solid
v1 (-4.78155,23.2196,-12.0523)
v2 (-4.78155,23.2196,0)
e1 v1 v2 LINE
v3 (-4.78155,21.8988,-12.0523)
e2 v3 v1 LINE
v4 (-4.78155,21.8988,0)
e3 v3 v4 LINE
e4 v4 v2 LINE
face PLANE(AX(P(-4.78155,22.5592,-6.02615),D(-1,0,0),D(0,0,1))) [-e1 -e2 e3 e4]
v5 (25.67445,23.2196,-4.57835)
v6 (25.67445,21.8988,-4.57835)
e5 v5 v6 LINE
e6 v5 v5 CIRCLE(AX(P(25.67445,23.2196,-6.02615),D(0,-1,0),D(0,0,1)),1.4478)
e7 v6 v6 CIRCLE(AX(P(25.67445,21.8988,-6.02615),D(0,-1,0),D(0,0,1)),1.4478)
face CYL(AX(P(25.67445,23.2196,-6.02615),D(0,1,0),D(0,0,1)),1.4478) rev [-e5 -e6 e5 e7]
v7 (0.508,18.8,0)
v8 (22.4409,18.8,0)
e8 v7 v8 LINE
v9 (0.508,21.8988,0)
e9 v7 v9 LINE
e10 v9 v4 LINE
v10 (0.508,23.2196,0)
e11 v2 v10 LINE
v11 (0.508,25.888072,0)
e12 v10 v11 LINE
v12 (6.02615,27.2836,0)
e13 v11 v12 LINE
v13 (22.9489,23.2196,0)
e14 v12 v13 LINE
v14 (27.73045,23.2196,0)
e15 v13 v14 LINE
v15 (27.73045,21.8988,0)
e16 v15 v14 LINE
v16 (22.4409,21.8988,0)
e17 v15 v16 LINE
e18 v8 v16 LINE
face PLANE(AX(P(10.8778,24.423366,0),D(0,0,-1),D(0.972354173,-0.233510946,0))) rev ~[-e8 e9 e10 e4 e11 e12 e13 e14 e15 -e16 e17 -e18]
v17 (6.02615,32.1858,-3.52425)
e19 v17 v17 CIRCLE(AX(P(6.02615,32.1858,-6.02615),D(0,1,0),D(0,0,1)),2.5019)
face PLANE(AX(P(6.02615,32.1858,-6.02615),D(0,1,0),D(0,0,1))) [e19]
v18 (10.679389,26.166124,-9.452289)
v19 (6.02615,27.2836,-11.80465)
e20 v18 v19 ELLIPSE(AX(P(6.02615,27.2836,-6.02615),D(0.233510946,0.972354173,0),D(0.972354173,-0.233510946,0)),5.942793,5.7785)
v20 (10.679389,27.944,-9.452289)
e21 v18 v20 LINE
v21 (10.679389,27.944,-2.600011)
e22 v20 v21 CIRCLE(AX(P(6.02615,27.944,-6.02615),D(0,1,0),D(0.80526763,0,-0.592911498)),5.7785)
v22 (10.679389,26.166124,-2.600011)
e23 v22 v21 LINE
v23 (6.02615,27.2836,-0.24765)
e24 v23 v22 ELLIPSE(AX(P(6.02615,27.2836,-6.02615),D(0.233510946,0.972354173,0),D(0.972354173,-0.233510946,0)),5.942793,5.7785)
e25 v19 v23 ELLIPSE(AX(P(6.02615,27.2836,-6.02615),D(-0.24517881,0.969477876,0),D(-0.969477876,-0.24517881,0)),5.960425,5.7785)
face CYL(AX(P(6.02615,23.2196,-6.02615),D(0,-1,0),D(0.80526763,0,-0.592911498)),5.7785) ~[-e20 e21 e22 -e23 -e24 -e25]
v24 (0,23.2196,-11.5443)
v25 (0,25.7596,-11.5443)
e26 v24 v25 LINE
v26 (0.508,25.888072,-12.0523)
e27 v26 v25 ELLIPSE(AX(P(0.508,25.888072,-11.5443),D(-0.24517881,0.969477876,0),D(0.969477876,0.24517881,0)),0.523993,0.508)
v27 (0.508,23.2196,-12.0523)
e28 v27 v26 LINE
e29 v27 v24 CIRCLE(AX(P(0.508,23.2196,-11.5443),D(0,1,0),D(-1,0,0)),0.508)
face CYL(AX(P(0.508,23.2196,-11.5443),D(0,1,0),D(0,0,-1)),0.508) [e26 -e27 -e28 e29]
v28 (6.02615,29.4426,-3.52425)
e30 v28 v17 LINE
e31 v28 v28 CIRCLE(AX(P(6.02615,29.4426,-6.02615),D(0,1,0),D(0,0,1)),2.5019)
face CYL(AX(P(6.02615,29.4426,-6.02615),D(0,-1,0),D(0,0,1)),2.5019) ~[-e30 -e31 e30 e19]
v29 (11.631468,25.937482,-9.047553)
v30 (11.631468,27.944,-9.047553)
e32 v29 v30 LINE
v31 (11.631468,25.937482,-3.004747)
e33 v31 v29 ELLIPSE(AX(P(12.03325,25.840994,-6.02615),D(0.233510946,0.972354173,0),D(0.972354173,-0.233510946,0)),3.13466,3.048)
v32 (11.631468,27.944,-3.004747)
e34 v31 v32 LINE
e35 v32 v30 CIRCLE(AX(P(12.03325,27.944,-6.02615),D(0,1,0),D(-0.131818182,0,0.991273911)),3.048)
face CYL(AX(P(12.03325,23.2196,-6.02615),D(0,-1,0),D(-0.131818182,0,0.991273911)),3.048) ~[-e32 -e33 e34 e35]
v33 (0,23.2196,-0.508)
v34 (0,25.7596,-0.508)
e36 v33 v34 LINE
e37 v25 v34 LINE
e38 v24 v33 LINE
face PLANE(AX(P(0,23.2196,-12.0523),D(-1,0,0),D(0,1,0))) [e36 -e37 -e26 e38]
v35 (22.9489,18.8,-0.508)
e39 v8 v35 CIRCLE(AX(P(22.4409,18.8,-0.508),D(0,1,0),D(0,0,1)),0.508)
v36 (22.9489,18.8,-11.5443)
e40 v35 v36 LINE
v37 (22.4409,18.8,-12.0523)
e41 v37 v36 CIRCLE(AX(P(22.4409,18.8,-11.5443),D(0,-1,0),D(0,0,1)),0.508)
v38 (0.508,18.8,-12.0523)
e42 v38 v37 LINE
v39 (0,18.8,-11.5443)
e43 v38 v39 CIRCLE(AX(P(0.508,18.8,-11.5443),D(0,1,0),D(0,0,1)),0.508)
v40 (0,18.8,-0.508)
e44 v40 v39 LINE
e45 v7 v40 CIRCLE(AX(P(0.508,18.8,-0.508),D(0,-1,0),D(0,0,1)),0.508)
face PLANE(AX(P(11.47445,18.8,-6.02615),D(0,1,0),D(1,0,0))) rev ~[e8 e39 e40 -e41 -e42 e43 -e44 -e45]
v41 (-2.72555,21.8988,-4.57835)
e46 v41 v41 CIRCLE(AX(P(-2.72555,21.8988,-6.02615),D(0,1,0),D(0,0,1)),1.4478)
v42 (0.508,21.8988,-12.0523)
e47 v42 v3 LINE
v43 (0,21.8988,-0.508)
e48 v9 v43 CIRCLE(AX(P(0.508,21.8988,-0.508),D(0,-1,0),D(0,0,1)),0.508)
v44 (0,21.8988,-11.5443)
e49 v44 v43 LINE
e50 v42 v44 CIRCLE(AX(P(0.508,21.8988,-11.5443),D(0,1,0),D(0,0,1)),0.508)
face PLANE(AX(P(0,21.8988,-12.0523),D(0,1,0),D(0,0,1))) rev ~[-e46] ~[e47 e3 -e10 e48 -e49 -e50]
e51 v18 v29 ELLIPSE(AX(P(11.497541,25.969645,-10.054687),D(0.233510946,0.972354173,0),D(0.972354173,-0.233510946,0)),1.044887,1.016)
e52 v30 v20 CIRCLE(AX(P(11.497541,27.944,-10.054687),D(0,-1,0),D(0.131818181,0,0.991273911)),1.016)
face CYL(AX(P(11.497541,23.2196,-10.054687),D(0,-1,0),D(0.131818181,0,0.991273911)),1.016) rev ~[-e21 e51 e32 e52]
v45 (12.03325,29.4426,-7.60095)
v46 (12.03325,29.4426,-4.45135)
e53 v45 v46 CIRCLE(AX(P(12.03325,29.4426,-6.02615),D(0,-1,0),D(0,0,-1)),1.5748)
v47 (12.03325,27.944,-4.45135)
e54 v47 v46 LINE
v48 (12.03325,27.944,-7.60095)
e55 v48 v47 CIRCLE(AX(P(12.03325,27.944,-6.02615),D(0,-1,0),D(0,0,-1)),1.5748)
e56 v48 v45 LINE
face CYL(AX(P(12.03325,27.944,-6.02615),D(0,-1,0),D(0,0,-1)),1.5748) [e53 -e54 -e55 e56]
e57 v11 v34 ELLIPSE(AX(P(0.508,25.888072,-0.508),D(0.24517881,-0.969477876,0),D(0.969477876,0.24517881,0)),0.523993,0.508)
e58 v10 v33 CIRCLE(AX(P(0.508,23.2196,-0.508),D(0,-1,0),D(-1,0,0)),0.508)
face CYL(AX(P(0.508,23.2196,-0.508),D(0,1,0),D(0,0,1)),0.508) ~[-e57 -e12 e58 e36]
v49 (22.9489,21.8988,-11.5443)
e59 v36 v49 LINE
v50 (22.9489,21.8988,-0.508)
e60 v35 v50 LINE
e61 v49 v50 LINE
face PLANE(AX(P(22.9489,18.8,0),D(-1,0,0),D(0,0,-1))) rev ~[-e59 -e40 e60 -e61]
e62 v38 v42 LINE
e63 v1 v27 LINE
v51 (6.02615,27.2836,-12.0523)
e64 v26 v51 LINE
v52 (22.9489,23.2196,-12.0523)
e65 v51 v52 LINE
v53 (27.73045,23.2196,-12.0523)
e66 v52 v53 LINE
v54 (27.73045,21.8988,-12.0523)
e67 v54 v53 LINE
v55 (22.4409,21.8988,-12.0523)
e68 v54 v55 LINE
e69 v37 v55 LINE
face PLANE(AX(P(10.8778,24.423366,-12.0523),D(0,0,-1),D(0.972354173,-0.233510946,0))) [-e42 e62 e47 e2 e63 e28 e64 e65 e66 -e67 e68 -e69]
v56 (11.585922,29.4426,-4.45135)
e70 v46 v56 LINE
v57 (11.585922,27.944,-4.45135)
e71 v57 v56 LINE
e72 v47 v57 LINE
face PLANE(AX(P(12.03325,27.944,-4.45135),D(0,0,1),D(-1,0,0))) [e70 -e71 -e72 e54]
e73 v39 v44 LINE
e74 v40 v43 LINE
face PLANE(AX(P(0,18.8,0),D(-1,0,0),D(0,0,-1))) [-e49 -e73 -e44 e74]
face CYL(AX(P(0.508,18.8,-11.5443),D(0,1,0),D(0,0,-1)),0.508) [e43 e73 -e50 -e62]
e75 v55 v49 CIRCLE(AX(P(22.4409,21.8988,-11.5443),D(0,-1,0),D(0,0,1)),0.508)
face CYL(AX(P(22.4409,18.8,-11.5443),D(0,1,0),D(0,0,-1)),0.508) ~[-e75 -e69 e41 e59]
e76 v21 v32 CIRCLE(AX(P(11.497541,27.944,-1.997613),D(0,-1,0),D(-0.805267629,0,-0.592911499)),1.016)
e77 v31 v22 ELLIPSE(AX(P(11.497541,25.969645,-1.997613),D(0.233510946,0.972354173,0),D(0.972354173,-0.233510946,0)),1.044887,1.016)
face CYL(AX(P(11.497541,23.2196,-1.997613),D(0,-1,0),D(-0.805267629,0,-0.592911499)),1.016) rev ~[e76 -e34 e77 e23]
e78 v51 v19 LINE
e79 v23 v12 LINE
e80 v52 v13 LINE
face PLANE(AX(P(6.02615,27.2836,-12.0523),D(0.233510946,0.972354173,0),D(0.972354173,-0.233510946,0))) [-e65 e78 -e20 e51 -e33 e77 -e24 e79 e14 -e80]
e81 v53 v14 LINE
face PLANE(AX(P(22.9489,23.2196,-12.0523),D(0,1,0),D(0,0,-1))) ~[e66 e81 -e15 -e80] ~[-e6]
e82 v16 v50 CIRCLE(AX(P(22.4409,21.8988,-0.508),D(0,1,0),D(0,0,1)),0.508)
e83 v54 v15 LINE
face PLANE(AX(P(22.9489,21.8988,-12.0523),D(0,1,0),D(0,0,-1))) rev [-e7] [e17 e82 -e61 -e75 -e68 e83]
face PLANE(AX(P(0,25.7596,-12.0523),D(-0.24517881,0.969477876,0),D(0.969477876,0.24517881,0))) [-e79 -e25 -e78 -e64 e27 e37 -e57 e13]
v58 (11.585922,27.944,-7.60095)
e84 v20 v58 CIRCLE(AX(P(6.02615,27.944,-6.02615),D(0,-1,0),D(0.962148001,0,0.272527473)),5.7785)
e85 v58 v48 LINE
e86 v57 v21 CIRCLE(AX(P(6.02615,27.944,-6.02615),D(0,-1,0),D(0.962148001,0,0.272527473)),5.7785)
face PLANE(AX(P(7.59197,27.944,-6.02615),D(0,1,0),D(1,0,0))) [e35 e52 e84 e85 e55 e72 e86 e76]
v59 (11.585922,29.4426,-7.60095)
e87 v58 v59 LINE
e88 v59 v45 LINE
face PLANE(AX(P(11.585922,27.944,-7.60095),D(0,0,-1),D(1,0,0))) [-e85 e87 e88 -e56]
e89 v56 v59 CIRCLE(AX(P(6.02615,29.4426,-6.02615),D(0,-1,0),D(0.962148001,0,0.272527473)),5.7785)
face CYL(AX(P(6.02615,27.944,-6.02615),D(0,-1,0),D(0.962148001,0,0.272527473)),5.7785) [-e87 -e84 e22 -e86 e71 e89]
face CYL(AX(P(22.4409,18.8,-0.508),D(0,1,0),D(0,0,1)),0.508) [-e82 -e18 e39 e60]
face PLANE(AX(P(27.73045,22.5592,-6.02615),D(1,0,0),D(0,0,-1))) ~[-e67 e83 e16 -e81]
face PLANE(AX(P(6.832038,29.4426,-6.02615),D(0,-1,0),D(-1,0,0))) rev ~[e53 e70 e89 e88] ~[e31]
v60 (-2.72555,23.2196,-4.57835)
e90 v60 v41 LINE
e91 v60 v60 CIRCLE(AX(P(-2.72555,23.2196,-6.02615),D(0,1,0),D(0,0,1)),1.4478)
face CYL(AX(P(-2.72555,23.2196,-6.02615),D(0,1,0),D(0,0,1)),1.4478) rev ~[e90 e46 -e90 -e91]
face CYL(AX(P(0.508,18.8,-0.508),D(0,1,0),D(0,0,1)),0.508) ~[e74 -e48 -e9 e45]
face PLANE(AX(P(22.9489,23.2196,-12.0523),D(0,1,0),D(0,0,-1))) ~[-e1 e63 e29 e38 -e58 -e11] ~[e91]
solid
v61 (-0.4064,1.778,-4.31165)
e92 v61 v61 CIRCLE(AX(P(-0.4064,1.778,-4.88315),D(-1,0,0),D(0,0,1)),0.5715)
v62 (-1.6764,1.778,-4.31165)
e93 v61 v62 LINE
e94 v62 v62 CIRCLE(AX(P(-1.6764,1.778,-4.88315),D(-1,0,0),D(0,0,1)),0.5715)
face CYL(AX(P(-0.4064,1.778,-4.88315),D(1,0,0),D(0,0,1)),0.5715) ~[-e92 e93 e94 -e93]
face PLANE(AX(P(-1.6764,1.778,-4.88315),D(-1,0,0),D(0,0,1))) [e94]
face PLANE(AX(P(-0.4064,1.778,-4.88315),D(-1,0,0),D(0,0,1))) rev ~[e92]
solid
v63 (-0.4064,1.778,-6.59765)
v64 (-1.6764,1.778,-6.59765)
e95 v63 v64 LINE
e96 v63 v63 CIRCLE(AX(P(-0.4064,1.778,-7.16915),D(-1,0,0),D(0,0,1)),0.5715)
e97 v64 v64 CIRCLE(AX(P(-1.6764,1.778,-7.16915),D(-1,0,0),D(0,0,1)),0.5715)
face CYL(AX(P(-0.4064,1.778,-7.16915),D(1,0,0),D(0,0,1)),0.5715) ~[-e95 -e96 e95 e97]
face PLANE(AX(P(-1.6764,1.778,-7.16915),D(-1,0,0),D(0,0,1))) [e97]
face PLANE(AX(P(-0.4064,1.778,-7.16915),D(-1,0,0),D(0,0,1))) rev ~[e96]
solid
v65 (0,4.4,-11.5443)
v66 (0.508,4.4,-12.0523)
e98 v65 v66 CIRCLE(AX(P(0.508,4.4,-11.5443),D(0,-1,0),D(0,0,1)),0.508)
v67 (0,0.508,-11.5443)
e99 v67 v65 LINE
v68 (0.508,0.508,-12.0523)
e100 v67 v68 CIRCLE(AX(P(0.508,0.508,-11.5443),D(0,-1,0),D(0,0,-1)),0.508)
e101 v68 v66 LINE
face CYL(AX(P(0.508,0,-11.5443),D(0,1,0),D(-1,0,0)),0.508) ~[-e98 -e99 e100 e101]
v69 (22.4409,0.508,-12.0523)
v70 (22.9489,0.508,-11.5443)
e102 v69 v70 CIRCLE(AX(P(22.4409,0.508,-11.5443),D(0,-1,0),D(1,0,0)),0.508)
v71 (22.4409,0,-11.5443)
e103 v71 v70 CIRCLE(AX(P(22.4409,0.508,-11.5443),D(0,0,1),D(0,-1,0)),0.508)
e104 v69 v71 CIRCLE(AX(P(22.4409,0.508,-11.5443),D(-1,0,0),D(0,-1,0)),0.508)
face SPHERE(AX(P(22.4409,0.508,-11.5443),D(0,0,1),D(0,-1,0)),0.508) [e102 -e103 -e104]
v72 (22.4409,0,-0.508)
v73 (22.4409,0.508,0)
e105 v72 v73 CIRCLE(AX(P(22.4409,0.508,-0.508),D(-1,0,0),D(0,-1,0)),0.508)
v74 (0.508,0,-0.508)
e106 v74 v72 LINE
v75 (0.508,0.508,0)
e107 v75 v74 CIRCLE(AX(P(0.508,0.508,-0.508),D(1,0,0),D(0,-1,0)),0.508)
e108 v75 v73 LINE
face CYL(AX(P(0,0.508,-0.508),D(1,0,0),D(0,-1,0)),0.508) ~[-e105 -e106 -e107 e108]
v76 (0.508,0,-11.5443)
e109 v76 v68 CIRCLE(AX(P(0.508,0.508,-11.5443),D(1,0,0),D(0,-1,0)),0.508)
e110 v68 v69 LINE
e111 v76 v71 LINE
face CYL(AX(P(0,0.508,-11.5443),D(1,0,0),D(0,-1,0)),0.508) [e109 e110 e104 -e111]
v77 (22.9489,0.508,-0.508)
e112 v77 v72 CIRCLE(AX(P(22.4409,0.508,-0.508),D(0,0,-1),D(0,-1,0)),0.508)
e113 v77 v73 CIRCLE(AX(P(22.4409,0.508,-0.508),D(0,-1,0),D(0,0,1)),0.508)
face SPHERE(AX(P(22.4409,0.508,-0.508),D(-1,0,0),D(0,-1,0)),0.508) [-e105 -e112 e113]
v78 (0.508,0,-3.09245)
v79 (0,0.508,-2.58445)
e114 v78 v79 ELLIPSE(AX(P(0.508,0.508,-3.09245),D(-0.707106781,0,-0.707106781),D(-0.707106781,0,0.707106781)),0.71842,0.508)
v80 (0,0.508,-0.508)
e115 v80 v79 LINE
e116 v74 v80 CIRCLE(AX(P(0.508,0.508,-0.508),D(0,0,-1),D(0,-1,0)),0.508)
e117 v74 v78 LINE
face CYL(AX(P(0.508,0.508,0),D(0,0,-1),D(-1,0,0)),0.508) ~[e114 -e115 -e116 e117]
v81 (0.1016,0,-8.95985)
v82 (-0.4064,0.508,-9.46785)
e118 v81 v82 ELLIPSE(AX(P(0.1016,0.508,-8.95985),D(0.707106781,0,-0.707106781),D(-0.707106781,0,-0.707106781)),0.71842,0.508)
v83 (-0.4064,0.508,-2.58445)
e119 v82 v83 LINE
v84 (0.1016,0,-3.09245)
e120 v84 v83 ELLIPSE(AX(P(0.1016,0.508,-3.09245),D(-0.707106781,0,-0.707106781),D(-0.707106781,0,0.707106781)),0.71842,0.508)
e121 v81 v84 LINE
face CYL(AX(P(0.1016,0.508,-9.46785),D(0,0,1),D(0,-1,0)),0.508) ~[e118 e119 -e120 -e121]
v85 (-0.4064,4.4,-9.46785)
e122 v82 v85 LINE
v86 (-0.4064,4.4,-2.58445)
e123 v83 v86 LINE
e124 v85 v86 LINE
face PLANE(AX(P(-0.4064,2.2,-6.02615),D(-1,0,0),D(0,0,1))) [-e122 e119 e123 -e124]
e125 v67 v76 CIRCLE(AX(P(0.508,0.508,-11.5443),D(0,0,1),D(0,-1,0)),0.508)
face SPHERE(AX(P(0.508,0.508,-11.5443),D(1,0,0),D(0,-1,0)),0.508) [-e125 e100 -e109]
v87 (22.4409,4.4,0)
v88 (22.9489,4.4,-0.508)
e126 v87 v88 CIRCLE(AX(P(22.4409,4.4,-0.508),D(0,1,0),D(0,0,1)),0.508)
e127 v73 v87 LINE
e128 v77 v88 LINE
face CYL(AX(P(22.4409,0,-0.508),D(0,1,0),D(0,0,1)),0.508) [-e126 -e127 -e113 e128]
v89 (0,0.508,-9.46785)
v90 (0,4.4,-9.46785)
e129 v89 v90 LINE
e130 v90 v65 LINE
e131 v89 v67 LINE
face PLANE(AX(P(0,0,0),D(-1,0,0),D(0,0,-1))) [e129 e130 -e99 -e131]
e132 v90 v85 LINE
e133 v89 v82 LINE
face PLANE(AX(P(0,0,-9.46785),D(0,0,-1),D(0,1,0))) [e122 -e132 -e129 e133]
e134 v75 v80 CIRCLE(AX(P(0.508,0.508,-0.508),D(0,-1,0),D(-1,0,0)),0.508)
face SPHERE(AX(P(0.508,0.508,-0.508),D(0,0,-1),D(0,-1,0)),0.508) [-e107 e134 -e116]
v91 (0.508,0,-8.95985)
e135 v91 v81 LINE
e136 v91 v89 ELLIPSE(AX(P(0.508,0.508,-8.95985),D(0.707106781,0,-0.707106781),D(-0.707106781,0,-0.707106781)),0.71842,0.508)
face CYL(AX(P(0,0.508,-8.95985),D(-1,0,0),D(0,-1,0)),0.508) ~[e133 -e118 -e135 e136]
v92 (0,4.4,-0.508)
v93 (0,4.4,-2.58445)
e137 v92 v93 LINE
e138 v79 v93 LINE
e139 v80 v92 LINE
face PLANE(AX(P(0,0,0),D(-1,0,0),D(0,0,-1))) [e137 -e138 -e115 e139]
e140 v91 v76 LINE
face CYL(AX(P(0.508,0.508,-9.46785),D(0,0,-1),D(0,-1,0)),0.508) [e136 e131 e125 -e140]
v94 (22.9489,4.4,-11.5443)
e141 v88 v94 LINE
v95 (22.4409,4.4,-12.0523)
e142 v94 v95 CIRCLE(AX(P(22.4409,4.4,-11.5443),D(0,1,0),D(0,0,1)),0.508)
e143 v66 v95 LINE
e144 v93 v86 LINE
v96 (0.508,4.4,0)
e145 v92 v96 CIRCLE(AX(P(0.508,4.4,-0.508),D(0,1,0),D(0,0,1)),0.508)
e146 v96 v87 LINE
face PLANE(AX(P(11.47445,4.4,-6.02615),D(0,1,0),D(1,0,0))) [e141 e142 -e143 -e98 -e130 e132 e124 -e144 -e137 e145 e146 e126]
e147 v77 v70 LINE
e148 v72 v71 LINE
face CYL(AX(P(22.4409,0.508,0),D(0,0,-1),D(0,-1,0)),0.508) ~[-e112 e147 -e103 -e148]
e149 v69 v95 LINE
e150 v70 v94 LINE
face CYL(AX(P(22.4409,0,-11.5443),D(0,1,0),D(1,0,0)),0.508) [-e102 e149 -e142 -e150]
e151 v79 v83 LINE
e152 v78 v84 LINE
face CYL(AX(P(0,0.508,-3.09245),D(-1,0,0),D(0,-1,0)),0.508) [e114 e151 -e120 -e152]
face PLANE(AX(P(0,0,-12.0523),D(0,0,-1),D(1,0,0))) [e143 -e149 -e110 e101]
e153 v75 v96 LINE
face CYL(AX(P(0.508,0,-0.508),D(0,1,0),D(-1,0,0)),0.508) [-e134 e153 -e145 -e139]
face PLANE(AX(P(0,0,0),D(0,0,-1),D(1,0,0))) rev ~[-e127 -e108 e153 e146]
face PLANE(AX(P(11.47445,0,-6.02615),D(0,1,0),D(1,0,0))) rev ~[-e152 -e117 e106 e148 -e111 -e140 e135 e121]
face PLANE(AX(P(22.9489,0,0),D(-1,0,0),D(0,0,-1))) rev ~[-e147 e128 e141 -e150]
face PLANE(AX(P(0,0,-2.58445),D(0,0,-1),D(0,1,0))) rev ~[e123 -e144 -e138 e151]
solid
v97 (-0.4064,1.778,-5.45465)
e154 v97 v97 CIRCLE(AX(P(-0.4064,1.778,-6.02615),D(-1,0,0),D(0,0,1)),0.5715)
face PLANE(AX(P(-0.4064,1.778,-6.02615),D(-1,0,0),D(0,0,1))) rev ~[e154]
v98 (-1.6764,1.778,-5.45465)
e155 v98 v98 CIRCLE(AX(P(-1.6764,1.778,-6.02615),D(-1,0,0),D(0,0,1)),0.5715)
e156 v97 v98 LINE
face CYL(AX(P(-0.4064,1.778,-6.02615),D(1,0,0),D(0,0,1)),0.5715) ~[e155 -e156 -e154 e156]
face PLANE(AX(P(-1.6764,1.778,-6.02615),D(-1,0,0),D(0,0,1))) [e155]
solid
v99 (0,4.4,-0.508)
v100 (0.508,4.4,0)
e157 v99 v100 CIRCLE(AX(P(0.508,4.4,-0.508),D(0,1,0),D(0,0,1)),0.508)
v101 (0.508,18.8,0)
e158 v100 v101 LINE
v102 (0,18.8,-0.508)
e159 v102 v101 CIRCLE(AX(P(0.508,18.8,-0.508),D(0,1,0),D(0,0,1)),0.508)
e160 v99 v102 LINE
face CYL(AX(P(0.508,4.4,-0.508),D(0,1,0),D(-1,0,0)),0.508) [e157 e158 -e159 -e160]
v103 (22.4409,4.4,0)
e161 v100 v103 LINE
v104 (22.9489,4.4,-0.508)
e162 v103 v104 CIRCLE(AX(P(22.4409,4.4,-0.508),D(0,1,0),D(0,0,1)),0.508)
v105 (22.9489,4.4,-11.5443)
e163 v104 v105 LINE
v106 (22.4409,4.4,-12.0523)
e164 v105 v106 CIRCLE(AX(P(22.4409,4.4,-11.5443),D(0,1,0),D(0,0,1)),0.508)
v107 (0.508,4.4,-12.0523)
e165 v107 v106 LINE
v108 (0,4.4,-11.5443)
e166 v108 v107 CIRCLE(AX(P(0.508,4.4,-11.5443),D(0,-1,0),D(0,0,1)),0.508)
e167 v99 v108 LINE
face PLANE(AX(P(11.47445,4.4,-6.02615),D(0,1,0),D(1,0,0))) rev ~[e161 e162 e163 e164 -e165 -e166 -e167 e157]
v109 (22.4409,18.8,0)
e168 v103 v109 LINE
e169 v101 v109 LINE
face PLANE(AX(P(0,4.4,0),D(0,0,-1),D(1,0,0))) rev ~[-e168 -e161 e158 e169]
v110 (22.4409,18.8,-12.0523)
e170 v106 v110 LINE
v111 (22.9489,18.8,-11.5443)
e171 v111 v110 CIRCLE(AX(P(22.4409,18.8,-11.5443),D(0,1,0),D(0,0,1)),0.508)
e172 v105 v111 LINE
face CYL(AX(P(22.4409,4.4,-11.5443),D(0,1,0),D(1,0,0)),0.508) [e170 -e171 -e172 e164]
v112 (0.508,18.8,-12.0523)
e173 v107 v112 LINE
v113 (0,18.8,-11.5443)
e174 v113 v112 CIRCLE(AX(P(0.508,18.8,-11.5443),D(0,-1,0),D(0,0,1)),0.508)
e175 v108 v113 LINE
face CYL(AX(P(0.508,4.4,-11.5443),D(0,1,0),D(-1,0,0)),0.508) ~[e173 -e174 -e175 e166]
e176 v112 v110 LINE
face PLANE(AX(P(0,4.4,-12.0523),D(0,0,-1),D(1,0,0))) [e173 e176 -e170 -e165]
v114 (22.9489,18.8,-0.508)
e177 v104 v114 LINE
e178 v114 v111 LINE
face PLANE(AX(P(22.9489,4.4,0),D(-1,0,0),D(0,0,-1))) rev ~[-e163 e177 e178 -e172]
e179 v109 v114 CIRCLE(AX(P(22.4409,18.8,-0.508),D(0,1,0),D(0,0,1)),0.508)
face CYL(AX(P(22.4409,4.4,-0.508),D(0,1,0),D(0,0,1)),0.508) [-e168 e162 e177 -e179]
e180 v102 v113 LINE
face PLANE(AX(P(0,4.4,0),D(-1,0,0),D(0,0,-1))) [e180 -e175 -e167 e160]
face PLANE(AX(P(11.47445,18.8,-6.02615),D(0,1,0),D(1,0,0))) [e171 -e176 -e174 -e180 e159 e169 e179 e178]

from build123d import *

# Parameters (mm, degrees)
SKETCH1_W              = 22.9489
SKETCH1_H              = 12.0523
BOSS_EXTRUDE1_DEPTH    = 4.4
SKETCH2_W              = 22.9489
SKETCH2_H              = 12.0523
BOSS_EXTRUDE4_DEPTH    = 14.4
SKETCH5_W              = 22.9489
SKETCH5_H              = 12.0523
BOSS_EXTRUDE6_DEPTH    = 4.4196
SKETCH7_W              = 12.0523
SKETCH7_H              = 1.3208
BOSS_EXTRUDE9_DEPTH    = 4.78155
SKETCH10_R             = 1.4478
CUT_EXTRUDE1_DEPTH     = 1.3208
BOSS_EXTRUDE10_DEPTH   = 4.7244
FILLET1_R              = 0.508
BOSS_EXTRUDE11_DEPTH   = 1.4986
SKETCH13_R             = 2.5019
BOSS_EXTRUDE12_DEPTH   = 2.7432
SKETCH14_W             = 6.8834
SKETCH14_H             = 4.4
BOSS_EXTRUDE14_DEPTH   = 0.4064
SKETCH15_R             = 0.5715
BOSS_EXTRUDE15_DEPTH   = 1.27
BOSS_EXTRUDE15_2_DEPTH = 1.27
BOSS_EXTRUDE15_3_DEPTH = 1.27
FILLET4_R              = 0.508
BOSS_EXTRUDE16_DEPTH   = 12.0523
FILLET5_R              = 0.508


with BuildPart() as part:
    # Sketch1 → Boss-Extrude1 (new body)
    with BuildSketch(Plane(origin=(0, 0, 0), x_dir=(1, 0, 0), z_dir=(0, 1, 0))):
        with Locations((11.47445, 6.02615)):
            Rectangle(SKETCH1_W, SKETCH1_H)
    extrude(amount=BOSS_EXTRUDE1_DEPTH)

    # Sketch14 → Boss-Extrude14 (add)
    with BuildSketch(Plane.ZY):
        with Locations((-6.02615, 2.2)):
            Rectangle(SKETCH14_W, SKETCH14_H)
    extrude(amount=BOSS_EXTRUDE14_DEPTH)

    # Fillet4
    fillet4_edges = [part.edges().sort_by_distance(p)[0] for p in [
        (-0.2032, 0, -9.46785),
        (-0.4064, 0, -6.02615),
        (-0.2032, 0, -2.58445),
        (0, 0, -1.292225),
        (11.47445, 0, 0),
        (22.9489, 0, -6.02615),
        (11.47445, 0, -12.0523),
        (0, 0, -10.760075),
        (0, 2.2, 0),
        (22.9489, 2.2, 0),
        (22.9489, 2.2, -12.0523),
        (0, 2.2, -12.0523),
    ]]
    fillet(fillet4_edges, radius=FILLET4_R)


with BuildPart() as body_2:
    # Sketch2 → Boss-Extrude4 (new body)
    with BuildSketch(Plane(origin=(0, 4.4, 0), x_dir=(1, 0, 0), z_dir=(0, 1, 0))):
        with Locations((11.47445, 6.02615)):
            Rectangle(SKETCH2_W, SKETCH2_H)
    extrude(amount=BOSS_EXTRUDE4_DEPTH)

    # Fillet1
    fillet1_edges = [body_2.edges().sort_by_distance(p)[0] for p in [
        (0, 11.6, -12.0523),
        (22.9489, 11.6, -12.0523),
        (22.9489, 11.6, 0),
        (0, 11.6, 0),
    ]]
    fillet(fillet1_edges, radius=FILLET1_R)


with BuildPart() as body_3:
    # Sketch5 → Boss-Extrude6 (new body)
    with BuildSketch(Plane(origin=(0, 18.8, 0), x_dir=(1, 0, 0), z_dir=(0, 1, 0))):
        with Locations((11.47445, 6.02615)):
            Rectangle(SKETCH5_W, SKETCH5_H)
    extrude(amount=BOSS_EXTRUDE6_DEPTH)

    # Sketch7 → Boss-Extrude9 (add)
    with BuildSketch(Plane.ZY):
        with Locations((-6.02615, 22.5592)):
            Rectangle(SKETCH7_W, SKETCH7_H)
    boss_extrude9 = extrude(amount=BOSS_EXTRUDE9_DEPTH)

    # Sketch10 → Cut-Extrude1 (cut)
    with BuildSketch(Plane(origin=(0, 23.2196, 0), x_dir=(1, 0, 0), z_dir=(0, 1, 0))):
        with Locations(Location((-2.72555, 6.02615, 0), (0, 0, 270))):
            Circle(SKETCH10_R)
    cut_extrude1 = extrude(amount=-CUT_EXTRUDE1_DEPTH, mode=Mode.SUBTRACT)

    # Mirror1: Boss-Extrude9, Cut-Extrude1 across plane
    add(boss_extrude9.mirror(Plane.ZY.offset(-11.47445)))
    add(cut_extrude1.mirror(Plane.ZY.offset(-11.47445)), mode=Mode.SUBTRACT)



with BuildPart() as body_4:
    # Sketch11 → Boss-Extrude10 (new body)
    with BuildSketch(Plane(origin=(0, 23.2196, 0), x_dir=(1, 0, 0), z_dir=(0, 1, 0))):
        with BuildLine():
            ThreePointArc((10.679388997, 9.452289093), (0.24765, 6.02615), (10.679388997, 2.600010907))
            ThreePointArc((10.679388997, 2.600010907), (11.100056709, 2.932632777), (11.631468182, 3.004747119))
            ThreePointArc((11.631468182, 3.004747119), (15.08125, 6.02615), (11.631468182, 9.047552881))
            ThreePointArc((11.631468182, 9.047552881), (11.100056709, 9.119667223), (10.679388997, 9.452289093))
        make_face()
    extrude(amount=BOSS_EXTRUDE10_DEPTH)

    # Sketch12 → Boss-Extrude11 (add)
    with BuildSketch(Plane(origin=(0, 27.944, 0), x_dir=(1, 0, 0), z_dir=(0, 1, 0))):
        with BuildLine():
            Line((12.03325, 4.45135), (11.585922226, 4.45135))
            ThreePointArc((11.585922226, 4.45135), (0.24765, 6.02615), (11.585922226, 7.60095))
            Line((11.585922226, 7.60095), (12.03325, 7.60095))
            ThreePointArc((12.03325, 7.60095), (13.60805, 6.02615), (12.03325, 4.45135))
        make_face()
    extrude(amount=BOSS_EXTRUDE11_DEPTH)

    # Sketch13 → Boss-Extrude12 (add)
    with BuildSketch(Plane(origin=(0, 29.4426, 0), x_dir=(1, 0, 0), z_dir=(0, 1, 0))):
        with Locations(Location((6.02615, 6.02615, 0), (0, 0, 270))):
            Circle(SKETCH13_R)
    extrude(amount=BOSS_EXTRUDE12_DEPTH)


with BuildPart() as body_5:
    # Sketch15 → Boss-Extrude15 (new body)
    with BuildSketch(Plane.ZY.offset(0.4064)):
        with Locations((-6.02615, 1.778)):
            Circle(SKETCH15_R)
    extrude(amount=BOSS_EXTRUDE15_DEPTH)


with BuildPart() as body_6:
    # Sketch15 → Boss-Extrude15 2 (new body)
    with BuildSketch(Plane.ZY.offset(0.4064)):
        with Locations((-4.88315, 1.778)):
            Circle(SKETCH15_R)
    extrude(amount=BOSS_EXTRUDE15_2_DEPTH)


with BuildPart() as body_7:
    # Sketch15 → Boss-Extrude15 3 (new body)
    with BuildSketch(Plane.ZY.offset(0.4064)):
        with Locations((-7.16915, 1.778)):
            Circle(SKETCH15_R)
    extrude(amount=BOSS_EXTRUDE15_3_DEPTH)


with BuildPart() as body_3_1:
    add(body_3.part)

    add(body_4.part)  # Boss-Extrude16 merges body 4
    # 3DSketch1 → Boss-Extrude16 (add, through all)
    with BuildSketch(Plane(origin=(6.02615, 27.2836, -12.0523), x_dir=(0.972354173200553, -0.23351094590932797, 0), z_dir=(0, 0, -1))):
        Polygon((0, 0), (17.403895069, 0), (-4.910563617, 5.358819347), (-5.503681419, 2.889039747), align=None)
    extrude(amount=-BOSS_EXTRUDE16_DEPTH)

    # Fillet5
    fillet5_edges = [body_3_1.edges().sort_by_distance(p)[0] for p in [
        (0, 24.4896, 0),
        (0, 24.4896, -12.0523),
        (0, 20.3494, -12.0523),
        (22.9489, 20.3494, -12.0523),
        (22.9489, 20.3494, 0),
        (0, 20.3494, 0),
    ]]
    fillet(fillet5_edges, radius=FILLET5_R)


solid = Compound([part.part, body_2.part, body_5.part, body_6.part, body_7.part, body_3_1.part])
